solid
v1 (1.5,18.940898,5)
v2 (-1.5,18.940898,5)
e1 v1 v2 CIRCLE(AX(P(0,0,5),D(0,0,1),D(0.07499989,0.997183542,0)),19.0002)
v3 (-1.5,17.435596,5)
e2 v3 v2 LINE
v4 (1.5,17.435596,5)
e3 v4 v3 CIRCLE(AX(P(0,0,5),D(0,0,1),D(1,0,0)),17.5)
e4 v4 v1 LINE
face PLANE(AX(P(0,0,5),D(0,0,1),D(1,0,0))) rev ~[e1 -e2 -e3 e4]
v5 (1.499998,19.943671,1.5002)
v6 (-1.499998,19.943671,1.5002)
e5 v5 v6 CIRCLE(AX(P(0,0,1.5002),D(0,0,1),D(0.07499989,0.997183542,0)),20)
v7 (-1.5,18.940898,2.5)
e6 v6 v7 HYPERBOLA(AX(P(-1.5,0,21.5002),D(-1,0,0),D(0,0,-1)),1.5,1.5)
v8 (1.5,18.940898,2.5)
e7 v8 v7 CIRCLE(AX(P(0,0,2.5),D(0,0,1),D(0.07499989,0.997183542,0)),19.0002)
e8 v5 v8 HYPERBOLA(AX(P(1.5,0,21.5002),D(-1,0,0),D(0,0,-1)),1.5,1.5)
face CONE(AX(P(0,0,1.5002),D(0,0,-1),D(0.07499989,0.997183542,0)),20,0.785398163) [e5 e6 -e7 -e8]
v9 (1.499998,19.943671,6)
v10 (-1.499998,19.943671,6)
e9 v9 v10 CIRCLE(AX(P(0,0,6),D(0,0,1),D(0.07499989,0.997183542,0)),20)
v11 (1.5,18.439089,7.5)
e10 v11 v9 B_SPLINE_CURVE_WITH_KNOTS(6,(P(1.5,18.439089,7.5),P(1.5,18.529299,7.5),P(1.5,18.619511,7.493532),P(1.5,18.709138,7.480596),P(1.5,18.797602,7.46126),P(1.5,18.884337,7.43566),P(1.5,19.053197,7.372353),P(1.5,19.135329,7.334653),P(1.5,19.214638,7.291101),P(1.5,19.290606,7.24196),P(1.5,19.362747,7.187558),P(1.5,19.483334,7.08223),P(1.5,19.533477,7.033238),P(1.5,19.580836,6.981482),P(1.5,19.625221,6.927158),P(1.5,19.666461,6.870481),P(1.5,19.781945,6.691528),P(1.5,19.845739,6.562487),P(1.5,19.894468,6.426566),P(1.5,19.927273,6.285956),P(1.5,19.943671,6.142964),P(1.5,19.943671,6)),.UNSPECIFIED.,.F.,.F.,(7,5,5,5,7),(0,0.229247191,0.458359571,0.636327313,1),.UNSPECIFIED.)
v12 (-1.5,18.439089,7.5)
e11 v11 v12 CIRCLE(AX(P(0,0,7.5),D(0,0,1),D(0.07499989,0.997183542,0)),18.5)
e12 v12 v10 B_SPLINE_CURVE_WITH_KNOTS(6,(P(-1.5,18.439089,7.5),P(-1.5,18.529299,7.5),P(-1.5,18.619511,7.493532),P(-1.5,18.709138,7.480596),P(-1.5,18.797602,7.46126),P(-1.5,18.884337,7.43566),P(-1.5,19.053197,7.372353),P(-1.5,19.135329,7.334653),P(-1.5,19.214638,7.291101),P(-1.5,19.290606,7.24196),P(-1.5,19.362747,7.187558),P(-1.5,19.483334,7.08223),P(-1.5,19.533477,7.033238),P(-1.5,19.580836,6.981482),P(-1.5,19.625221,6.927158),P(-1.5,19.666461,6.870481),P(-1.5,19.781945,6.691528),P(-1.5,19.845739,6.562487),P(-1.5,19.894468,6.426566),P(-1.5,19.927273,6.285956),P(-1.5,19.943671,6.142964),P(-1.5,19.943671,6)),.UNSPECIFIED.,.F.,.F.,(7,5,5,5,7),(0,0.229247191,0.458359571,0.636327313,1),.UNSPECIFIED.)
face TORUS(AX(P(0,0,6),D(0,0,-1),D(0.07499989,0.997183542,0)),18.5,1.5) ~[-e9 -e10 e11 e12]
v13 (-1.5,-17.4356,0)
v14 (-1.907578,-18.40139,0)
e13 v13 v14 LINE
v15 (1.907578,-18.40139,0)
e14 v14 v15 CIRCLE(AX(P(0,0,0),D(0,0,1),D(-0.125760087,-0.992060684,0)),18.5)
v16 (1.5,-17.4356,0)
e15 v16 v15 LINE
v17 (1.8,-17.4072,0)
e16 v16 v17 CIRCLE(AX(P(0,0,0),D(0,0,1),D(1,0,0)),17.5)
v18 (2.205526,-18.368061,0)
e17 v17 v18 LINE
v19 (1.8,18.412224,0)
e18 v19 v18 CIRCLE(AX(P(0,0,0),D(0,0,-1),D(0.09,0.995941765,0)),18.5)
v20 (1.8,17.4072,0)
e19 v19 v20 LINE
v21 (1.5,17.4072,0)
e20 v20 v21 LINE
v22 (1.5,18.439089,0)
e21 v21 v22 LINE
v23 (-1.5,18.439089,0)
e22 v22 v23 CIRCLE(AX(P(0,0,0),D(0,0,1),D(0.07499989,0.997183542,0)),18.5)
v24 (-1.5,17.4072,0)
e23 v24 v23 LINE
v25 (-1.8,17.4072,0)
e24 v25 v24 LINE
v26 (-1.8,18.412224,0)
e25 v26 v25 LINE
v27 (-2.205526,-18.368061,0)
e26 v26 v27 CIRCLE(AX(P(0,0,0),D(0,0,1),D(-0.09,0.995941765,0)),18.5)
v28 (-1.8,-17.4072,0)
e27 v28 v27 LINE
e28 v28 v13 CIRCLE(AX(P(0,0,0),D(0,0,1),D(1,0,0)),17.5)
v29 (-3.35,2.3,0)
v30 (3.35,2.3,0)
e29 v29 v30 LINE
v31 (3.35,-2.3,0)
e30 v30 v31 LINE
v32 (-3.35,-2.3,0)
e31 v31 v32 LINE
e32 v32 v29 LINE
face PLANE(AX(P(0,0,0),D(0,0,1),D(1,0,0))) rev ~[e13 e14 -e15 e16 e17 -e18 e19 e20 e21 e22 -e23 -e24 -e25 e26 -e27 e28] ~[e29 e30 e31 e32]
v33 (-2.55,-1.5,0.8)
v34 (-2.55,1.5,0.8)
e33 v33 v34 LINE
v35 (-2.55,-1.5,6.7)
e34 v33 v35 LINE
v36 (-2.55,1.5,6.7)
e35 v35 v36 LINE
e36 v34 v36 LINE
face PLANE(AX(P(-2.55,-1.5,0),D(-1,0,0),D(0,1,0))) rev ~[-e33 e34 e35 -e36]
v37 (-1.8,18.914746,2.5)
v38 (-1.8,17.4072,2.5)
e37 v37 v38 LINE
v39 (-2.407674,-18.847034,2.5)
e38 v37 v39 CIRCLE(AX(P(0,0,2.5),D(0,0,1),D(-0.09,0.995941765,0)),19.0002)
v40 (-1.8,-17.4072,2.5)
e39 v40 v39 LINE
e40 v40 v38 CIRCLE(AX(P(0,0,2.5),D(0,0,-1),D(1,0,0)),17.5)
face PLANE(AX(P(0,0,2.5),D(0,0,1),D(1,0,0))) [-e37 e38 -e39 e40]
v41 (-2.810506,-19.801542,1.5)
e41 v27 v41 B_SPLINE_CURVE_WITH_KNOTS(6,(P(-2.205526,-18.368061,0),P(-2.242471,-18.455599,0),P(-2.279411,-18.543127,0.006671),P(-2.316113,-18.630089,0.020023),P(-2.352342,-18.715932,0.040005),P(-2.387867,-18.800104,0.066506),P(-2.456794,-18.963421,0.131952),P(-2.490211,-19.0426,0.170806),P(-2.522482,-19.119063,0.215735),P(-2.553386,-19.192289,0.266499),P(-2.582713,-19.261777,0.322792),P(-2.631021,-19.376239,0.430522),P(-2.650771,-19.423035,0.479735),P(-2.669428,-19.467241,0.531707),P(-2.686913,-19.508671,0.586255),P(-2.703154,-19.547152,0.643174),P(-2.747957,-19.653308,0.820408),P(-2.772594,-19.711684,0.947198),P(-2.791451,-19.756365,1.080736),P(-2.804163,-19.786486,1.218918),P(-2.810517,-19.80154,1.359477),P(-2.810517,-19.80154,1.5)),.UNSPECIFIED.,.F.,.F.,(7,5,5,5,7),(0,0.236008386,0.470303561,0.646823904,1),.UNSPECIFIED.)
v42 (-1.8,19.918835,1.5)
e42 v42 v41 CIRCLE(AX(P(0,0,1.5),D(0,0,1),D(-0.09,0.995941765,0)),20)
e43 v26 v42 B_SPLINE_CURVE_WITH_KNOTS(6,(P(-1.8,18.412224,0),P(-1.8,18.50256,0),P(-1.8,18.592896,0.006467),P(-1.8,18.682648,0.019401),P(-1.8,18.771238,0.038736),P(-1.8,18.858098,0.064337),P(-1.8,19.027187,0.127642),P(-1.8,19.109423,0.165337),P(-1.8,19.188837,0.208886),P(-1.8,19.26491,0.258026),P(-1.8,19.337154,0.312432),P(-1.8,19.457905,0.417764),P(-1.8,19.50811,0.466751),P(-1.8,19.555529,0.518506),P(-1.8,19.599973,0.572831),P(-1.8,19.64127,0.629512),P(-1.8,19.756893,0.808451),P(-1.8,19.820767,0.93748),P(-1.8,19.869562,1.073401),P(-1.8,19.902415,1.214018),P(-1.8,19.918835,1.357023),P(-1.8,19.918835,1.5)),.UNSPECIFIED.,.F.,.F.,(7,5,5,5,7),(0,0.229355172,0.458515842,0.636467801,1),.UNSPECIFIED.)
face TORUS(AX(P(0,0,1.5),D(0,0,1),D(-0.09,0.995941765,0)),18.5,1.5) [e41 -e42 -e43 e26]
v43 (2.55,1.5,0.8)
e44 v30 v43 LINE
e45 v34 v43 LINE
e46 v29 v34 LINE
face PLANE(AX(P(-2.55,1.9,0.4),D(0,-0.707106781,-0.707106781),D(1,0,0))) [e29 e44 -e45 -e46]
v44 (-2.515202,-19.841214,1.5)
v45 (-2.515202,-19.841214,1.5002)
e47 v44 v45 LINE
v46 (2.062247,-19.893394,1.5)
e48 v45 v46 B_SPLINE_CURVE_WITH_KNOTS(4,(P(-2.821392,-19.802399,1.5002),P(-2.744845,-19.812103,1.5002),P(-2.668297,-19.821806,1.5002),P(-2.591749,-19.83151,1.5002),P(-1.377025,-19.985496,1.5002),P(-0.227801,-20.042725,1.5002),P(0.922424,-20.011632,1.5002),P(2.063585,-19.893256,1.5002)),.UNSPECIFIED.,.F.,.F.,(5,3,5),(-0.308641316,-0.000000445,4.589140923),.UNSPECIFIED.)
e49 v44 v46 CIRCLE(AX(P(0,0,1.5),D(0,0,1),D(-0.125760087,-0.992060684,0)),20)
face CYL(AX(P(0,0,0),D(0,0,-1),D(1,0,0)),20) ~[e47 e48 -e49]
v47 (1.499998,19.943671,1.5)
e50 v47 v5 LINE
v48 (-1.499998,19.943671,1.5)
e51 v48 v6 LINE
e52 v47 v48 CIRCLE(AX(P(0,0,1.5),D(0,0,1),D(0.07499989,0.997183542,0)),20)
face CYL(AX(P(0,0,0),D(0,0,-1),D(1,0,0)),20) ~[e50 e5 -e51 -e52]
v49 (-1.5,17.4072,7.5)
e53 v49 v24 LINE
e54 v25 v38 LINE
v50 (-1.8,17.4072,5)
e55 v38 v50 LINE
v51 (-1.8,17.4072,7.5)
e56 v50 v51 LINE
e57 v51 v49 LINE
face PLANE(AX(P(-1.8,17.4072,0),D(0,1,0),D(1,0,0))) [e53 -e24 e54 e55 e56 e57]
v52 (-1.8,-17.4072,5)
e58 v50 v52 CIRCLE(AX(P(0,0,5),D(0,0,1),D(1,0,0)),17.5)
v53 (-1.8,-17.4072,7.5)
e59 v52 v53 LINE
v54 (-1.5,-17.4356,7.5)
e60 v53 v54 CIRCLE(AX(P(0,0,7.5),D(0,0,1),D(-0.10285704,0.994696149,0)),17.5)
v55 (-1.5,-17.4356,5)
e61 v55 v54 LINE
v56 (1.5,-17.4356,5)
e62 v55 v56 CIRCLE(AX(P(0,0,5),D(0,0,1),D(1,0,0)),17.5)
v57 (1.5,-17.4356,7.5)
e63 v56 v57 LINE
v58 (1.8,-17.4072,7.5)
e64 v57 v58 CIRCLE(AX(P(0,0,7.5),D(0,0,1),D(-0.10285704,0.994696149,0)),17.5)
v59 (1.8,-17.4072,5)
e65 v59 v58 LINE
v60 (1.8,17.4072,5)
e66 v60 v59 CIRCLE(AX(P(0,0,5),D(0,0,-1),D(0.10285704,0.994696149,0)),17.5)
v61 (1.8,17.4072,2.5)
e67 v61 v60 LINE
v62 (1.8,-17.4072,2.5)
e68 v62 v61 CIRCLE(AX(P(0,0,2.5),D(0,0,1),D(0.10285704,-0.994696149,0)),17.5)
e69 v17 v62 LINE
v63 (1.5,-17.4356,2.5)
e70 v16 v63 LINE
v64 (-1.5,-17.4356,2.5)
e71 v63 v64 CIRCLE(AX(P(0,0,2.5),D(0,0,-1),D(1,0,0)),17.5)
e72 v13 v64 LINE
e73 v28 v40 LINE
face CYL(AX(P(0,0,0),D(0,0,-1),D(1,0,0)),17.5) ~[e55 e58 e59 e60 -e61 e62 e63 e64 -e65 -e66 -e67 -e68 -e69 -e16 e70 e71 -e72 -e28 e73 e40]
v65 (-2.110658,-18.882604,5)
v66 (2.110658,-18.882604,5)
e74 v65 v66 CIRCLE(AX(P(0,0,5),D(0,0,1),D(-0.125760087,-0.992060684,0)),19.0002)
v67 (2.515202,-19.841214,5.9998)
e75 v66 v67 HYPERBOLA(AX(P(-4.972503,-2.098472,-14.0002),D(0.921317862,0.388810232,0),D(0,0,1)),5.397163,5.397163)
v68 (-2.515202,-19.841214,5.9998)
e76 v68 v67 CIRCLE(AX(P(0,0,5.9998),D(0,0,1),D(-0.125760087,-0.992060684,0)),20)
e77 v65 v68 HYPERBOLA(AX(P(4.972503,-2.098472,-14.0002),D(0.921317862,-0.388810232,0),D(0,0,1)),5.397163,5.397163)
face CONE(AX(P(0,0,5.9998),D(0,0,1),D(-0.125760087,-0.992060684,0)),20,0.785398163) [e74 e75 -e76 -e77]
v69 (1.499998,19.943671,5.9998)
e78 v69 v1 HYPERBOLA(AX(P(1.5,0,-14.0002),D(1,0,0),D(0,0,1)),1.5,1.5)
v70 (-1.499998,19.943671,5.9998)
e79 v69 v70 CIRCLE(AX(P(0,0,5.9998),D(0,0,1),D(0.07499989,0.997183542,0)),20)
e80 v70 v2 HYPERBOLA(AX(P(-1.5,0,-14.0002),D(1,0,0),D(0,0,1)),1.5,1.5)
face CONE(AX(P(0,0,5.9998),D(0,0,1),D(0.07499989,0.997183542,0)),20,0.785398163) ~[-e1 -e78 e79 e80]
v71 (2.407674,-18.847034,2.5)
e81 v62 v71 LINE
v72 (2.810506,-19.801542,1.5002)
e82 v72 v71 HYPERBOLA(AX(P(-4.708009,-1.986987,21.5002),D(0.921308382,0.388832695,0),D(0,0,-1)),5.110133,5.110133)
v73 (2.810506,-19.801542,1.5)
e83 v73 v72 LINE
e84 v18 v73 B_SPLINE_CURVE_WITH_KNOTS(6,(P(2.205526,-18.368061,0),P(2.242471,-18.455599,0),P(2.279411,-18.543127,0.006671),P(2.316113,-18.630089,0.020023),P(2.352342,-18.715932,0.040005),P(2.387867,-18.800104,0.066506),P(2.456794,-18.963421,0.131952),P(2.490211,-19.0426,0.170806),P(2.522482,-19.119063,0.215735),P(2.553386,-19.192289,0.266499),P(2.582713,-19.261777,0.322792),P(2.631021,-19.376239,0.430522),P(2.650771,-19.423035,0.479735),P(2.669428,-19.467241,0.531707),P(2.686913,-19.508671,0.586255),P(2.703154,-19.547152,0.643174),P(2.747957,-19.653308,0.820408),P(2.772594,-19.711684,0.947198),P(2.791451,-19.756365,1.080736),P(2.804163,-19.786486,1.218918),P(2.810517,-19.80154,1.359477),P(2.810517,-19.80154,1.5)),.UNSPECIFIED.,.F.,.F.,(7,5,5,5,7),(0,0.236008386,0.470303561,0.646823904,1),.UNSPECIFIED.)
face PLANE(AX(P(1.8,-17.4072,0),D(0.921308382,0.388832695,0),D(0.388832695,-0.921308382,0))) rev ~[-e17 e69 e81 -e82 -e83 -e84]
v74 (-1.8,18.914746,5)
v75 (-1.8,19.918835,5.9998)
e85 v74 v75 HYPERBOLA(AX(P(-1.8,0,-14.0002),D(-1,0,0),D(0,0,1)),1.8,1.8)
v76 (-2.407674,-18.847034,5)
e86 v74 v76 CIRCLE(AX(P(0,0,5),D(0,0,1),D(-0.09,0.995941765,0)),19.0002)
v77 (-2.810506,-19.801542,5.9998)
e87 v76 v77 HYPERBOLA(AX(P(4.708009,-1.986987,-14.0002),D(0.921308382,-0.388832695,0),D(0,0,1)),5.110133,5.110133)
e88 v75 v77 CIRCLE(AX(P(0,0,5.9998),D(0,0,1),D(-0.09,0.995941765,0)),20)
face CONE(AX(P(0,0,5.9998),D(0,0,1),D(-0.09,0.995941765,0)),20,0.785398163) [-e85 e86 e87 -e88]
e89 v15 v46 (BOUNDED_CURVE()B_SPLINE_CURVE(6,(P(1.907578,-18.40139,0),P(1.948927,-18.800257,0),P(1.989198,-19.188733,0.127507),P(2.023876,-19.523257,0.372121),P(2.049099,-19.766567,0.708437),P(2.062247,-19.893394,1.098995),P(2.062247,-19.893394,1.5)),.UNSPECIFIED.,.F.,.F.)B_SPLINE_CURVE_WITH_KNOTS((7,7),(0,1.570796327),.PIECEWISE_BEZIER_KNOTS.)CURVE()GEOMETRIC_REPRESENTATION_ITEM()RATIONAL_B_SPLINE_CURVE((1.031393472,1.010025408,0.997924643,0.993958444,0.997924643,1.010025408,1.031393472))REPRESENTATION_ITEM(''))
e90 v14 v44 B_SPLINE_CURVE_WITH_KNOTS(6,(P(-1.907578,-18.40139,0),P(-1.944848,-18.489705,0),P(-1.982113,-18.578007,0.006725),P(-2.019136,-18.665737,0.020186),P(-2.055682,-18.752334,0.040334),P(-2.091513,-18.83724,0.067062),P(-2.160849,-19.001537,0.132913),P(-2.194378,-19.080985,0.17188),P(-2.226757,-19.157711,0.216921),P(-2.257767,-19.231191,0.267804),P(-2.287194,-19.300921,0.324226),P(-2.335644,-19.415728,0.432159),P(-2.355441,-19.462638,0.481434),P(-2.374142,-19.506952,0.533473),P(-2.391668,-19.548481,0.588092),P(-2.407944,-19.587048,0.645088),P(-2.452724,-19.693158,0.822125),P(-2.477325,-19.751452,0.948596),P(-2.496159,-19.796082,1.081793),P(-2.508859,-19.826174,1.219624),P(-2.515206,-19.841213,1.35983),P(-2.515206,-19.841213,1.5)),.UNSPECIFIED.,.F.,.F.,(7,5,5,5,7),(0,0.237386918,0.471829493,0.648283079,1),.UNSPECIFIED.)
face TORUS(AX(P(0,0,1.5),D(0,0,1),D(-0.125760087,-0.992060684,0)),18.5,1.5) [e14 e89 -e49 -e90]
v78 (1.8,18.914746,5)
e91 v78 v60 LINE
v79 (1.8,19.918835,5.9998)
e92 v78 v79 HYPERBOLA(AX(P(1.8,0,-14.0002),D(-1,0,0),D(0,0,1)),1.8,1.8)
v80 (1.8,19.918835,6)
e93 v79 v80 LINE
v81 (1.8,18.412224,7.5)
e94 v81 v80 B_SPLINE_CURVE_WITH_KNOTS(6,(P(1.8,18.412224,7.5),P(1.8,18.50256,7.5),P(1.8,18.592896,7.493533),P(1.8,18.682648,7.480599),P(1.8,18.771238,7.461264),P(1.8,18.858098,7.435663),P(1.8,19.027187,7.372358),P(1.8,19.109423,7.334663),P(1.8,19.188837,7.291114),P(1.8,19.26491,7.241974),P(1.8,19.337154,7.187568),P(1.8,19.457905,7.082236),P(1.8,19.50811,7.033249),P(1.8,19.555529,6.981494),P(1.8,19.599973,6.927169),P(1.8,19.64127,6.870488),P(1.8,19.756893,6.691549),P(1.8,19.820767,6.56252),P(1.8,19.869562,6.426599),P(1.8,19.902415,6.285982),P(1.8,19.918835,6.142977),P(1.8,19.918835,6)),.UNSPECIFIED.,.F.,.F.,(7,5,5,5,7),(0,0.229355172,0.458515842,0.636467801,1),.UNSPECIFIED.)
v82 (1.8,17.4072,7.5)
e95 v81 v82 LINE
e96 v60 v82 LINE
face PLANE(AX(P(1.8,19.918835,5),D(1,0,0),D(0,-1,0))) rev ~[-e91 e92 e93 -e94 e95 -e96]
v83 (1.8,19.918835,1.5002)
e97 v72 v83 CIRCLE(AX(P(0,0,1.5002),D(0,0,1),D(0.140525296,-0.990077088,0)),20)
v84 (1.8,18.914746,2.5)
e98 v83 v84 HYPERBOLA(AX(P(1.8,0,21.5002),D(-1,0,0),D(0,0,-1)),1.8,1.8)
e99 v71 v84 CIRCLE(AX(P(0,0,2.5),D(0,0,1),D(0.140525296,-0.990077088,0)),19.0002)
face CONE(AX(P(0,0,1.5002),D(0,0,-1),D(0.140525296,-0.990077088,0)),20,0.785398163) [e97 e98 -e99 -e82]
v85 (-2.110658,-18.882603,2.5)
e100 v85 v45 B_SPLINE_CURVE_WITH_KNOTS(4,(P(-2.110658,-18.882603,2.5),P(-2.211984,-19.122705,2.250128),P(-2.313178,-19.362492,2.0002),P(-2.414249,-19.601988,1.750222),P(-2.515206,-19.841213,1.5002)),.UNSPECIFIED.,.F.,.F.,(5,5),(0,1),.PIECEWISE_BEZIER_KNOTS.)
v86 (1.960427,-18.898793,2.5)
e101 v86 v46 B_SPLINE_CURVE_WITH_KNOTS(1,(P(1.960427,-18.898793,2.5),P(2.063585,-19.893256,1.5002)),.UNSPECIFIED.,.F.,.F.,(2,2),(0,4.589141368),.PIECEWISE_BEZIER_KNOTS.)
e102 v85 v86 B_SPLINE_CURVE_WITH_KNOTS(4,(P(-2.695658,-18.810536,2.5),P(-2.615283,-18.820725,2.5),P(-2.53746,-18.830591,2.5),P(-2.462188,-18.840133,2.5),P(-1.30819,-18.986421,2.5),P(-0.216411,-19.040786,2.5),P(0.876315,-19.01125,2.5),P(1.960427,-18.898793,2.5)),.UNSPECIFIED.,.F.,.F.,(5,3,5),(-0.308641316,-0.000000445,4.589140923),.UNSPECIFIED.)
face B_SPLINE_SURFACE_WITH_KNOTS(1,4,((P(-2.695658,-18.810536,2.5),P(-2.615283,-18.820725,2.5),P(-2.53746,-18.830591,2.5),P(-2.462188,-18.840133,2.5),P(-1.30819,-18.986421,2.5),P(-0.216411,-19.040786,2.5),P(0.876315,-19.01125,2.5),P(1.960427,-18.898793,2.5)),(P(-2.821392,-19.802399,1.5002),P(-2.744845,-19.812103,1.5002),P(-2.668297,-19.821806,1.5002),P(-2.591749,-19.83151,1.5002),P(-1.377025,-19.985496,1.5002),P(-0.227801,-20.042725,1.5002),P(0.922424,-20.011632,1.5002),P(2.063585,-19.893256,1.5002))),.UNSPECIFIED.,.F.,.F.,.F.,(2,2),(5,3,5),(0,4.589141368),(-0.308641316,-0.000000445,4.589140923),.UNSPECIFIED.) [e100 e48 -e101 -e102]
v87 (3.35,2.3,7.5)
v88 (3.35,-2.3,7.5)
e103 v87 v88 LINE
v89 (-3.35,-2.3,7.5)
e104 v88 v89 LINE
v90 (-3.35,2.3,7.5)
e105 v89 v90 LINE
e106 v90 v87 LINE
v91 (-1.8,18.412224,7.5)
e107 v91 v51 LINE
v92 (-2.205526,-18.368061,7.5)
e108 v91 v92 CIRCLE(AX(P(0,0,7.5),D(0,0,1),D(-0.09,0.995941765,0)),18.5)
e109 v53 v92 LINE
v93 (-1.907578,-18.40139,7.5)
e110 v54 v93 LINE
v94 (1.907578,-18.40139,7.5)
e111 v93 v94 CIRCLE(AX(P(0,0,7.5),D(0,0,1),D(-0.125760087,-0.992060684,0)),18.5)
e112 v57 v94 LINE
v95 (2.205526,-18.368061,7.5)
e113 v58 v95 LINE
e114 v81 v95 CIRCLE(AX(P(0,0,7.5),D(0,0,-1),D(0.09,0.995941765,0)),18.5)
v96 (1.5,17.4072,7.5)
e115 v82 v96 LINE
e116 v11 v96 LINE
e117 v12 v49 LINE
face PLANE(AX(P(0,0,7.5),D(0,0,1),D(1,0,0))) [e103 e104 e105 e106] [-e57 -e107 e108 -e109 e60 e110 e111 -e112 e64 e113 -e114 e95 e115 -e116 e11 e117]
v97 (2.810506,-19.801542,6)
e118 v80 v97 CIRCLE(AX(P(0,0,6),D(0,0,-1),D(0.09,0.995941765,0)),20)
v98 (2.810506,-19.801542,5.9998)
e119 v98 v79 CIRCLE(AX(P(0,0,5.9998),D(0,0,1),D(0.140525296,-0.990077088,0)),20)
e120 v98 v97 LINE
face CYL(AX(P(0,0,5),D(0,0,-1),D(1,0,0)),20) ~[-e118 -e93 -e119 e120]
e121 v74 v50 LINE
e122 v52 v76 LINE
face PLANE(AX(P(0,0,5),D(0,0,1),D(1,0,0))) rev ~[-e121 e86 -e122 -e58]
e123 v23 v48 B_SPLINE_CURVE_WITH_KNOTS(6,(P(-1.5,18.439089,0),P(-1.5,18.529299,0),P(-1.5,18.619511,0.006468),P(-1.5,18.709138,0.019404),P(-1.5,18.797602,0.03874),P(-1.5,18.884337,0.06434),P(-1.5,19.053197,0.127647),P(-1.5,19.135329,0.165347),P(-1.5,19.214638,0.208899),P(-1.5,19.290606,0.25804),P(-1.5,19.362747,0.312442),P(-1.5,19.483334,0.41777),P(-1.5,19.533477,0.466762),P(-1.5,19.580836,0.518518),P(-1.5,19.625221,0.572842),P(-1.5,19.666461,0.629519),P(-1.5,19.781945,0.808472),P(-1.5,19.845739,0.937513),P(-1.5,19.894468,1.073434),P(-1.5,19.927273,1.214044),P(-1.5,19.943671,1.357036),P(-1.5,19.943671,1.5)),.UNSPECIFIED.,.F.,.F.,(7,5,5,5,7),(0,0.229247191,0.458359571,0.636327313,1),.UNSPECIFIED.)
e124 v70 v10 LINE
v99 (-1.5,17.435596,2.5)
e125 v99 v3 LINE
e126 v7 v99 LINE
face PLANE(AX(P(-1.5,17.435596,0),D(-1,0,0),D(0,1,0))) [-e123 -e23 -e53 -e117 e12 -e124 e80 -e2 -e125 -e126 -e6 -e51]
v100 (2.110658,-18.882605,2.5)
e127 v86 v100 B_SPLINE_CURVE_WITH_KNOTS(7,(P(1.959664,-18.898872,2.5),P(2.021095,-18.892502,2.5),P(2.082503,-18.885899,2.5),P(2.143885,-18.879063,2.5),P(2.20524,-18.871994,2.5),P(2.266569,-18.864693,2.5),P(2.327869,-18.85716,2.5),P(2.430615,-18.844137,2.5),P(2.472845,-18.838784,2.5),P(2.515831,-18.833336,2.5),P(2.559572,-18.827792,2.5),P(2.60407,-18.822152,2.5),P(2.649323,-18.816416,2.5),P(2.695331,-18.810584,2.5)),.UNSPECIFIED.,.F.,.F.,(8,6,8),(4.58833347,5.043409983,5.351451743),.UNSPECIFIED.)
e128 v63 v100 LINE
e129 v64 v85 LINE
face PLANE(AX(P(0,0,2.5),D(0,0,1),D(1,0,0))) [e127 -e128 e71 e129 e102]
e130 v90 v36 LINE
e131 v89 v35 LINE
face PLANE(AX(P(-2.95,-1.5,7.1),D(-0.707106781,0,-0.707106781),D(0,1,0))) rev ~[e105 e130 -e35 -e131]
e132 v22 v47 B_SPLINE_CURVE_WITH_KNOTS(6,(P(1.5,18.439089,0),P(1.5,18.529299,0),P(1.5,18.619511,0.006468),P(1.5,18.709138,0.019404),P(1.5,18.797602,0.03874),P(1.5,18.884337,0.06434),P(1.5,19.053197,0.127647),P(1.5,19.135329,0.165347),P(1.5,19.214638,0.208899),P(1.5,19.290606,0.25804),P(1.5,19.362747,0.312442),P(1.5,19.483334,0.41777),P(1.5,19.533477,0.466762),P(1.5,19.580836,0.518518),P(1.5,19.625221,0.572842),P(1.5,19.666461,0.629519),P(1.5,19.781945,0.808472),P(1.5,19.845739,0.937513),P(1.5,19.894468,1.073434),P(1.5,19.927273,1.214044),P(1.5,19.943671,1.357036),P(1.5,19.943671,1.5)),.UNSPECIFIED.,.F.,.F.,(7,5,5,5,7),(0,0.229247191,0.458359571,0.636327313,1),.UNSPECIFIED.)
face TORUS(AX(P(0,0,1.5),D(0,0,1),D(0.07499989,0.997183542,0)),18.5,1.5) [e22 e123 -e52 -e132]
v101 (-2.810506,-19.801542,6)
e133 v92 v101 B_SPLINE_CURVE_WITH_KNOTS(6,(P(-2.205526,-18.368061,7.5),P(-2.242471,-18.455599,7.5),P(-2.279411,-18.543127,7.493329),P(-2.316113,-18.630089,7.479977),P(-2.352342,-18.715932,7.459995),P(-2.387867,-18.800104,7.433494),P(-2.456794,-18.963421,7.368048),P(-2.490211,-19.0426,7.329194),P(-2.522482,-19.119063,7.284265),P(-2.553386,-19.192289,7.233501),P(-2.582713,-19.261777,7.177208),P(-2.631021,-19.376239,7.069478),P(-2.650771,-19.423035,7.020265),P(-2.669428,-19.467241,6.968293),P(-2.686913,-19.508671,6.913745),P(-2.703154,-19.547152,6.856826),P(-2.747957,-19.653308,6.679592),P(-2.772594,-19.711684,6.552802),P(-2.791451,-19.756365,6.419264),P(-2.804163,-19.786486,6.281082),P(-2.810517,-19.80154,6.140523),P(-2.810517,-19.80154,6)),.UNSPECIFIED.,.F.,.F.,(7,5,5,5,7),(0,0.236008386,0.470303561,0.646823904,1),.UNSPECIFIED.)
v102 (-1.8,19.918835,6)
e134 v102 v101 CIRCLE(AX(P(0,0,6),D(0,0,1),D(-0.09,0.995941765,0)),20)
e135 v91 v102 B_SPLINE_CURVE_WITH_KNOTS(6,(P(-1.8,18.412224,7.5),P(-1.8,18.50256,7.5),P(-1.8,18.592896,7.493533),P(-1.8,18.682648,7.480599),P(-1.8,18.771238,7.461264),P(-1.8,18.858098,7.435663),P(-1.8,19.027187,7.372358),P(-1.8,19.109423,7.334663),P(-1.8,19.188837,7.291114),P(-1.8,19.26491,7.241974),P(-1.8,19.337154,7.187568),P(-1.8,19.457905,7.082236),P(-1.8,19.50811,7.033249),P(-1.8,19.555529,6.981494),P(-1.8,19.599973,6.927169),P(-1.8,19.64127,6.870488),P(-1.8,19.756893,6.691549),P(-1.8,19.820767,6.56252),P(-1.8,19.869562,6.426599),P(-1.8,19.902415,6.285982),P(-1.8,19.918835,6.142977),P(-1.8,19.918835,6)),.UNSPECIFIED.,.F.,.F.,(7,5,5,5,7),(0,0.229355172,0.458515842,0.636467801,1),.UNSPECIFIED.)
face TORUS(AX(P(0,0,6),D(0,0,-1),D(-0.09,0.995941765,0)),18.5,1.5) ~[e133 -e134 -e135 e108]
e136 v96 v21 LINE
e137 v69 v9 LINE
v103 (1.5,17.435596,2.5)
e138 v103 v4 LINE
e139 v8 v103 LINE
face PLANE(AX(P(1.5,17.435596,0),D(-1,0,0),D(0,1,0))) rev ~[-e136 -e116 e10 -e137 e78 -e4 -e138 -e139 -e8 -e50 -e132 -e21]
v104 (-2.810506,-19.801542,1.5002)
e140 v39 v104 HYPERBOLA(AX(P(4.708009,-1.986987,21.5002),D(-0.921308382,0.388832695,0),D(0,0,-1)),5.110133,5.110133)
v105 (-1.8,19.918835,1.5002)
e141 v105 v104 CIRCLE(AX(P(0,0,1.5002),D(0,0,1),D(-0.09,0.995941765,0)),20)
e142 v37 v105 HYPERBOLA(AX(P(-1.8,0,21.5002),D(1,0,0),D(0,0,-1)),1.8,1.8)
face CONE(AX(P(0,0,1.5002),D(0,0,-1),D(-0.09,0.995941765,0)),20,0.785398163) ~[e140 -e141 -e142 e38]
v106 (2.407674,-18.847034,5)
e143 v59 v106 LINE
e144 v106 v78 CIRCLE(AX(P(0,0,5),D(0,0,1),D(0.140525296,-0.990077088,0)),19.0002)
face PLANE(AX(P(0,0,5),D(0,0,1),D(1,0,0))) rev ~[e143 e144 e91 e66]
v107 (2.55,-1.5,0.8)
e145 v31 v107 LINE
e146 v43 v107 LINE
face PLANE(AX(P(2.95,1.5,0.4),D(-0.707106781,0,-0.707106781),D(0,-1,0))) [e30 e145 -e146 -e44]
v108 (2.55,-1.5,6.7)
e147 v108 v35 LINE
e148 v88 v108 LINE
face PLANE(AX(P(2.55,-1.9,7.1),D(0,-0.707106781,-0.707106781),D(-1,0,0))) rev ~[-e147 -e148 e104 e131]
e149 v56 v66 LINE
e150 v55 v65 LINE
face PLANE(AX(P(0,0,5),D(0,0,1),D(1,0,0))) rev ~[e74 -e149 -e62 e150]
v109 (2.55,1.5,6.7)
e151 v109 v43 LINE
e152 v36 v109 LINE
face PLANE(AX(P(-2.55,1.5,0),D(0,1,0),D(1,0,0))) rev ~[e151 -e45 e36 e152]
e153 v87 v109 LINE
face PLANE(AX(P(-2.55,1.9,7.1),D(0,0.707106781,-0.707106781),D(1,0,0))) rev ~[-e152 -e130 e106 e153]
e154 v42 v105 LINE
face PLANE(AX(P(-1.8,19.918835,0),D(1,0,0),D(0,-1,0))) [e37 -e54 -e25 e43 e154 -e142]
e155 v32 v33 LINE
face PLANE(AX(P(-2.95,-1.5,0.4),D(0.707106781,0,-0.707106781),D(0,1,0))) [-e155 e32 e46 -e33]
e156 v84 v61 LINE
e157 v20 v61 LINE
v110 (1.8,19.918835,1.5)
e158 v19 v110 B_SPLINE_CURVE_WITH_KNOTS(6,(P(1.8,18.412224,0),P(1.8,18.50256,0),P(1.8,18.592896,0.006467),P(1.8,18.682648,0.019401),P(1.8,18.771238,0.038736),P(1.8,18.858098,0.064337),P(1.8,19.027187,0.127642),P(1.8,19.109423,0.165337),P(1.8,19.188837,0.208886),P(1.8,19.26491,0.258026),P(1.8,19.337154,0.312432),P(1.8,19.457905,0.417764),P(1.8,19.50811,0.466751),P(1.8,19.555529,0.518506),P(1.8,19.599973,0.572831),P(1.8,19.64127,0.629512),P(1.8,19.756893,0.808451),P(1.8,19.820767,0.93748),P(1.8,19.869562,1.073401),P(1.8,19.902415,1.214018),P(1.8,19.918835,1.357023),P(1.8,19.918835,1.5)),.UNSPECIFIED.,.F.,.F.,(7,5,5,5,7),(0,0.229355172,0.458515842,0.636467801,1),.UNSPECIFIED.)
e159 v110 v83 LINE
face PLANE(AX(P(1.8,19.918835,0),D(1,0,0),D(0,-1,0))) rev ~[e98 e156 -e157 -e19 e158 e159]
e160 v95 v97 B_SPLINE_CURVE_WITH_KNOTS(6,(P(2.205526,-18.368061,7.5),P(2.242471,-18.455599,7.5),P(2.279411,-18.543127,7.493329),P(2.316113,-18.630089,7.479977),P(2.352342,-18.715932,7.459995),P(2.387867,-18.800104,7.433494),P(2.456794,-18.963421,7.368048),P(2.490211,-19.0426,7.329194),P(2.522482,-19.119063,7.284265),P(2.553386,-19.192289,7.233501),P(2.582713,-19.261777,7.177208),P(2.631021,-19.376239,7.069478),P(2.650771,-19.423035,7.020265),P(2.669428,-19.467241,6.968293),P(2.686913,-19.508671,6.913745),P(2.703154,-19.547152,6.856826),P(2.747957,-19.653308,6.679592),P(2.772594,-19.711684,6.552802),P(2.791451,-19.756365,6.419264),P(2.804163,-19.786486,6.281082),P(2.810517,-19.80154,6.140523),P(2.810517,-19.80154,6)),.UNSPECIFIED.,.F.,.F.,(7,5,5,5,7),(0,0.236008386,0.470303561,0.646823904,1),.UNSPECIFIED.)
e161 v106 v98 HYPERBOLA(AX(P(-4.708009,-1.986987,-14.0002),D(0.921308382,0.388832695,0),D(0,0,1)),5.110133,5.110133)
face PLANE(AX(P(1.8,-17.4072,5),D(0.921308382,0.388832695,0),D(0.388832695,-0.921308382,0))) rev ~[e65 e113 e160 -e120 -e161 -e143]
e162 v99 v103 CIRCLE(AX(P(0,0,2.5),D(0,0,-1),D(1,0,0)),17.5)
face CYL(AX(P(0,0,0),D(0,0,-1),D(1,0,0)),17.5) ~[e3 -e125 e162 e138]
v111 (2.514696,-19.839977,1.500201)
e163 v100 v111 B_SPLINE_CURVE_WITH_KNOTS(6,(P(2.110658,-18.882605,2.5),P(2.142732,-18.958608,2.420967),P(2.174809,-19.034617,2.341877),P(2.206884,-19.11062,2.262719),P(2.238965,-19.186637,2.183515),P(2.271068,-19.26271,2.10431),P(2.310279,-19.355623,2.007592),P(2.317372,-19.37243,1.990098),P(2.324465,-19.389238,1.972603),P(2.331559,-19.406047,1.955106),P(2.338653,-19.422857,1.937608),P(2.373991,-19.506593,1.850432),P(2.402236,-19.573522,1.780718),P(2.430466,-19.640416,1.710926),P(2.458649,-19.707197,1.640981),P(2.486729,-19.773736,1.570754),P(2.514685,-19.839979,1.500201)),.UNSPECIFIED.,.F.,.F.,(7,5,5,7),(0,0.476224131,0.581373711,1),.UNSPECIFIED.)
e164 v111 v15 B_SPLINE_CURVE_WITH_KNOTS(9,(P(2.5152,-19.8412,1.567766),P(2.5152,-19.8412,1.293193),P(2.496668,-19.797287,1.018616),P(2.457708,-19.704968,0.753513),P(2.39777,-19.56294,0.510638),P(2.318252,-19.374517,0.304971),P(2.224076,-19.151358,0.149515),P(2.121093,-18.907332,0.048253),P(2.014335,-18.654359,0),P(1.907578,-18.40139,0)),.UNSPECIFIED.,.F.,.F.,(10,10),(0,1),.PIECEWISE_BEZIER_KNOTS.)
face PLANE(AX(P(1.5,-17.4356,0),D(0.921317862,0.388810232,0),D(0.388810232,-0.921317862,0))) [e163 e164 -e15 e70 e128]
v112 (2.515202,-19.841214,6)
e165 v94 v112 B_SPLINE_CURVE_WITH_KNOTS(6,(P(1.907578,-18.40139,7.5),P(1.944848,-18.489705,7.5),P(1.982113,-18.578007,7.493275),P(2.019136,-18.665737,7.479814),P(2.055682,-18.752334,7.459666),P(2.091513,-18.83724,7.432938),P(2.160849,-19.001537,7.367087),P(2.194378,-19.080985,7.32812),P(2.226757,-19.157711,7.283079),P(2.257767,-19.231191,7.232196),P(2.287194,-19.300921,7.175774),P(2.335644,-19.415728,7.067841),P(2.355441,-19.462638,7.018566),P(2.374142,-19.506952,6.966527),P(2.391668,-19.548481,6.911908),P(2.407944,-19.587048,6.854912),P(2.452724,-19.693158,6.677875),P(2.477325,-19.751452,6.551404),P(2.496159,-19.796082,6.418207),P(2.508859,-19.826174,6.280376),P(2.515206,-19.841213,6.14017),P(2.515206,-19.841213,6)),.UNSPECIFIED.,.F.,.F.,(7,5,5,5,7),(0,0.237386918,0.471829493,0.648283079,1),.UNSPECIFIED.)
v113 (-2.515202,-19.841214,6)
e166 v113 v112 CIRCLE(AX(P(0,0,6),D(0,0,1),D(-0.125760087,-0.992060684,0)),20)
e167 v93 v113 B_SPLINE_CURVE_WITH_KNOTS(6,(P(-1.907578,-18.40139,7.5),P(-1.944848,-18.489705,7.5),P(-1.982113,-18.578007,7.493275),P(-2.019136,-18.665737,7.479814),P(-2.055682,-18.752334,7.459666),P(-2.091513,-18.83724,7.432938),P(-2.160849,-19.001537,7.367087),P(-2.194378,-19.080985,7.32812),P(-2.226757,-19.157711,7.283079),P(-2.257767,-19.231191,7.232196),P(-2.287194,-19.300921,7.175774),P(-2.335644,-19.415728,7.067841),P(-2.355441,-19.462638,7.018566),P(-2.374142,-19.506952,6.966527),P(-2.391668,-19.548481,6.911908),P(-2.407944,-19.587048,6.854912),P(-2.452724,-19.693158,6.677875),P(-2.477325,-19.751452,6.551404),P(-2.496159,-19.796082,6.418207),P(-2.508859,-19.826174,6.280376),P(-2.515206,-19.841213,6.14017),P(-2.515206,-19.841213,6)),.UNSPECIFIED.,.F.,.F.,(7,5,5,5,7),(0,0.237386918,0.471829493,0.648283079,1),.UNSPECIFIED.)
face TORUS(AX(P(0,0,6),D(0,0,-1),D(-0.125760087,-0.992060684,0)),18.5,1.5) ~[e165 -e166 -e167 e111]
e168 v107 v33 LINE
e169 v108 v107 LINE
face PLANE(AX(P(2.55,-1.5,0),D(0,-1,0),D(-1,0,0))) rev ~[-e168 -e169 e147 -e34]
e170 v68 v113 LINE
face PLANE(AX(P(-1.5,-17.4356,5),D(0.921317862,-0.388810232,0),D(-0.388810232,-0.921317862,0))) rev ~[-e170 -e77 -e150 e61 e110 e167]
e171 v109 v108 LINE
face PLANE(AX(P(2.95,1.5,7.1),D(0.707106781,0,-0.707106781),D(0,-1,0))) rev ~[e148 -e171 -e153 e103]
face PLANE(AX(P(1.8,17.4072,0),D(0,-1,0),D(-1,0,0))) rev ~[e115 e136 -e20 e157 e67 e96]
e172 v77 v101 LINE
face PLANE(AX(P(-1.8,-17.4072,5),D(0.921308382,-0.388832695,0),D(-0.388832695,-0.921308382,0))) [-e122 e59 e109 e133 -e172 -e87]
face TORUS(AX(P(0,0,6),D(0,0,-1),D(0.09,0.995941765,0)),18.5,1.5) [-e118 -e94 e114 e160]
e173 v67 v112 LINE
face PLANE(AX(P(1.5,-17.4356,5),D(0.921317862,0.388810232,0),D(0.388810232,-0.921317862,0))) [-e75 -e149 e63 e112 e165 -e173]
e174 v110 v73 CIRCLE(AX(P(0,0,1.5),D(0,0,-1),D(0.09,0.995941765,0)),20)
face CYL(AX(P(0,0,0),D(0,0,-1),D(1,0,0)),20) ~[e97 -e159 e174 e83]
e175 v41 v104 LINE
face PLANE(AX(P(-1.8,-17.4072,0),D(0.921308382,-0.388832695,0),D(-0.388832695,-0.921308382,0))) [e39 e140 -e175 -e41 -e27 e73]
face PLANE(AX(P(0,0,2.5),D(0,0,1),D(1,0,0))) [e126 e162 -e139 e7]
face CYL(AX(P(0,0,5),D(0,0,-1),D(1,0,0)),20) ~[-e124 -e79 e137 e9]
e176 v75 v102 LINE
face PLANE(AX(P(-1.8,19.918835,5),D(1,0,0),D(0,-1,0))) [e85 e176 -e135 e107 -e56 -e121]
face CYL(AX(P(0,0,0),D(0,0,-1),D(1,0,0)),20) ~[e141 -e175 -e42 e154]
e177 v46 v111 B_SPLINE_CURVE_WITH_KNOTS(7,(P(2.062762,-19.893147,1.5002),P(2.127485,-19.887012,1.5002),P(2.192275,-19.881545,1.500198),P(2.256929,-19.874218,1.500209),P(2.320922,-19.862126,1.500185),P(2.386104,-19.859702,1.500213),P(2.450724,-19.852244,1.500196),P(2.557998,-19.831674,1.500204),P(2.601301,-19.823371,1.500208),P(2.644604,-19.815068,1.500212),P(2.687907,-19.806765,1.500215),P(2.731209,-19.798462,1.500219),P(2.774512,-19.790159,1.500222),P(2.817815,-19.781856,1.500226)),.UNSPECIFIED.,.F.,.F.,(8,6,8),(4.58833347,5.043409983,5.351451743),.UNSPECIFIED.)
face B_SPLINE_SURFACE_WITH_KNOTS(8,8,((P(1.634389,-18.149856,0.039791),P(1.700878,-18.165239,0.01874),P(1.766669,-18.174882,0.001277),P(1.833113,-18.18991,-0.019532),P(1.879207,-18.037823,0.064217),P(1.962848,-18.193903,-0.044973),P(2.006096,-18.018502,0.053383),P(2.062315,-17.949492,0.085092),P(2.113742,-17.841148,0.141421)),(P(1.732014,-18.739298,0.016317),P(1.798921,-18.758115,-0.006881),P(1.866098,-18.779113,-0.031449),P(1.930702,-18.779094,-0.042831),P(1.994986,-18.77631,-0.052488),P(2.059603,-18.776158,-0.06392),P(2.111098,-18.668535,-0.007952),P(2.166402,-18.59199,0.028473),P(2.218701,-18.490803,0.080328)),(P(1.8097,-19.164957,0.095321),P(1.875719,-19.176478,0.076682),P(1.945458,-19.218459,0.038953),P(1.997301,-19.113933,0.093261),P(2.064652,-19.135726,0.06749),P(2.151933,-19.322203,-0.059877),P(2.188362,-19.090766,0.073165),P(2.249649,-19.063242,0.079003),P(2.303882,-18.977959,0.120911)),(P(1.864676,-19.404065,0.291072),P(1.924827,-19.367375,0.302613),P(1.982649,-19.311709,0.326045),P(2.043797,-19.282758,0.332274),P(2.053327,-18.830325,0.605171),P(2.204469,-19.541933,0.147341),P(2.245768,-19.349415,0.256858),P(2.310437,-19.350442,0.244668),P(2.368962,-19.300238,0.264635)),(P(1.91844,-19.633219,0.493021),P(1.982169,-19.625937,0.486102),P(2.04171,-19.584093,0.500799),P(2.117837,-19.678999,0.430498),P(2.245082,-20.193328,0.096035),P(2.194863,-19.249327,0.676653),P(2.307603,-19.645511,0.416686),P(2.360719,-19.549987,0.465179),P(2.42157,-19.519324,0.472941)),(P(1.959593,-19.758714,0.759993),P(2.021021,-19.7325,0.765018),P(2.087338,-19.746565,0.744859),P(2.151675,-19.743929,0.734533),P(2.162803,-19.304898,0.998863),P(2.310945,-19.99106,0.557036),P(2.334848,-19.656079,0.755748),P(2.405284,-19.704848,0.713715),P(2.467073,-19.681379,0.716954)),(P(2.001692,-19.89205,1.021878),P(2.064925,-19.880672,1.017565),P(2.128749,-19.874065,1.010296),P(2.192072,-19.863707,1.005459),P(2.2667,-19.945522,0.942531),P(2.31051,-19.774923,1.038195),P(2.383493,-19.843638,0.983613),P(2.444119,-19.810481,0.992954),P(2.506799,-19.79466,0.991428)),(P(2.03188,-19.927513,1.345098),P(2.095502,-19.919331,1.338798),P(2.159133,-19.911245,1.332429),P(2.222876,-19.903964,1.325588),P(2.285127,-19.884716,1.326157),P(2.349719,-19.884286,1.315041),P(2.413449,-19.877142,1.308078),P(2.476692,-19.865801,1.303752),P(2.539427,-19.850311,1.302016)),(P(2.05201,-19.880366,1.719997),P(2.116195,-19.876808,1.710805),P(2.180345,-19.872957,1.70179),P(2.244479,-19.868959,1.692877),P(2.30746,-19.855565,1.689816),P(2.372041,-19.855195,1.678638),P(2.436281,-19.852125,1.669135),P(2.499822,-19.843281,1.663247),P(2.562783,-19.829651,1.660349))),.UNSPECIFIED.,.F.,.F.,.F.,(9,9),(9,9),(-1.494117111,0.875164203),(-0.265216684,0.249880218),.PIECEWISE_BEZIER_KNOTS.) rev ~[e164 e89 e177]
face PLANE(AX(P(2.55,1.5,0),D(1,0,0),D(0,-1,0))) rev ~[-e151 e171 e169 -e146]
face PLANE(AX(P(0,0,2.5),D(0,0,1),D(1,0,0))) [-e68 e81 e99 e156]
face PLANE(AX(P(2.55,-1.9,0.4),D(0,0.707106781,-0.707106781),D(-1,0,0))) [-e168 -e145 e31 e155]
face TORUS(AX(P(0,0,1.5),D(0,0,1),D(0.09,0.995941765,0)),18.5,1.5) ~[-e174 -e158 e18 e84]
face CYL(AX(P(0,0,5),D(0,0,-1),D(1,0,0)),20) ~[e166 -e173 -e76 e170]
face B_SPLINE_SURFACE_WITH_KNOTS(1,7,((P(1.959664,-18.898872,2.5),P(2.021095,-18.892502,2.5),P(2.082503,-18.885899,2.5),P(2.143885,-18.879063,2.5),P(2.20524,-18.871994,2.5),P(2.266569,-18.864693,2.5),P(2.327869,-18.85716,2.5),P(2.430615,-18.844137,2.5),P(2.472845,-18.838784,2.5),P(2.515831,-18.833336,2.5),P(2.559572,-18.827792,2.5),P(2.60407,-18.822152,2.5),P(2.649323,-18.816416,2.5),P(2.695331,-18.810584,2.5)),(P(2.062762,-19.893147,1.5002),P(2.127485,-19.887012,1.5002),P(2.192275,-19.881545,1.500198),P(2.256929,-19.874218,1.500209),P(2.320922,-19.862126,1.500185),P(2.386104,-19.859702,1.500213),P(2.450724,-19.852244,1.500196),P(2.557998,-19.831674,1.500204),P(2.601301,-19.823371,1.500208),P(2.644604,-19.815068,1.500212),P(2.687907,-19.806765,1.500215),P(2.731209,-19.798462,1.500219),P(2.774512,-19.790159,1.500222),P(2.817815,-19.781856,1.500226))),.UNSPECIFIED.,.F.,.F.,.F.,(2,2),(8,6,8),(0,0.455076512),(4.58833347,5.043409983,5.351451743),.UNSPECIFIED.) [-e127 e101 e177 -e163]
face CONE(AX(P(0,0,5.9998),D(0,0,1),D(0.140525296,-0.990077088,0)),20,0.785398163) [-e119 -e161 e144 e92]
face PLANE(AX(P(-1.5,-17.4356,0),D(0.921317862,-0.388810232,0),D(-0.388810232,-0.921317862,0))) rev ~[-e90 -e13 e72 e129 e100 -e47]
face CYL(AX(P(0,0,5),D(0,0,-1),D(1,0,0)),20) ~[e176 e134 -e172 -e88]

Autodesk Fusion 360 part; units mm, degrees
sketch "Skizze1" plane through (0, 0, 0) normal (0, 0, 1) x (1, 0, 0)
  circle A0 centre (0, 0) radius 20
  circle A1 centre (0, 0) radius 17.5
  line L0 (2.55, -1.5) -> (-2.55, -1.5)
  line L1 (-2.55, -1.5) -> (-2.55, 1.5)
  line L2 (-2.55, 1.5) -> (2.55, 1.5)
  line L3 (2.55, 1.5) -> (2.55, -1.5)
  line L4 (2.55, -1.5) -> (-2.55, 1.5) construction
  line L5 (-2.55, -1.5) -> (2.55, 1.5) construction
  line L6 (-1.5, 19.9437) -> (-1.8, 19.9437)
  line L7 (-1.8, 19.9437) -> (-1.8, 17.4072)
  line L8 (-1.8, 17.4072) -> (-1.5, 17.4072)
  line L9 (-1.5, 17.4072) -> (-1.5, 19.9437)
  line L10 (1.5, 19.9437) -> (1.8, 19.9437)
  line L11 (1.8, 19.9437) -> (1.8, 17.4072)
  line L12 (1.8, 17.4072) -> (1.5, 17.4072)
  line L13 (1.5, 17.4072) -> (1.5, 19.9437)
  line L14 (-1.5, -17.4356) -> (-2.5152, -19.8412)
  line L15 (-1.8, -17.4072) -> (-2.8105, -19.8015)
  line L16 (0, 0) -> (0, -21.9932) construction
  line L17 (1.8, -17.4072) -> (2.8105, -19.8015)
  line L18 (1.5, -17.4356) -> (2.5152, -19.8412)
  dimension "d1" = 40
  dimension "d2" = 35
  dimension "d3" = 5.1
  dimension "d4" = 3
  dimension "d14" = 0.3
  dimension "d15" = 1.5
  dimension "d16" = 0.3
  dimension "d17" = 1.5
  dimension "d29" = 0.3
  dimension "d30" = 1.5
extrude "Extrusion1" add sketch "Skizze1" along normal blind 2.5 contours A0 A1 L9 L13 | A0 A1 L11 L17 | A1 L8 L9 L12 L13 | A0 A1 L7 L15 | A0 A1 L14 L18
extrude "Extrusion2" add sketch "Skizze1" along normal blind 7.5 contours A1 L8 L9 L12 L13
extrude "Extrusion3" add sketch "Skizze1" along normal blind 2.5 from surface at 5 contours A0 A1 L9 L13 | A0 A1 L11 L17 | A0 A1 L7 L15 | A0 A1 L14 L18
chamfer "Fase1" distance 0.8 angle 45 8 edges at (0, 1.5, 0) (-2.55, 0, 0) (0, -1.5, 0) (2.55, 0, 0) (-2.55, 0, 7.5) (0, 1.5, 7.5) (2.55, 0, 7.5) (0, -1.5, 7.5)
fillet "Abrundung2" radius 1.5 8 edges at (-19.9935, 0.5086, 7.5) (-19.9935, 0.5086, 0) (0, 20, 0) (0, 20, 7.5) (19.9935, 0.5086, 7.5) (0, -20, 7.5) (0, -20, 0) (19.9935, 0.5086, 0)
chamfer "Fase2" distance 1 angle 45 8 edges at (19.9935, 0.5086, 2.5) (-19.9935, 0.5086, 5) (19.9935, 0.5086, 5) (-19.9935, 0.5086, 2.5) (0, 20, 2.5) (0, 20, 5) (0, -20, 5) (0, -20, 2.5)
equation "d16 = d14"
equation "d17 = d15"
